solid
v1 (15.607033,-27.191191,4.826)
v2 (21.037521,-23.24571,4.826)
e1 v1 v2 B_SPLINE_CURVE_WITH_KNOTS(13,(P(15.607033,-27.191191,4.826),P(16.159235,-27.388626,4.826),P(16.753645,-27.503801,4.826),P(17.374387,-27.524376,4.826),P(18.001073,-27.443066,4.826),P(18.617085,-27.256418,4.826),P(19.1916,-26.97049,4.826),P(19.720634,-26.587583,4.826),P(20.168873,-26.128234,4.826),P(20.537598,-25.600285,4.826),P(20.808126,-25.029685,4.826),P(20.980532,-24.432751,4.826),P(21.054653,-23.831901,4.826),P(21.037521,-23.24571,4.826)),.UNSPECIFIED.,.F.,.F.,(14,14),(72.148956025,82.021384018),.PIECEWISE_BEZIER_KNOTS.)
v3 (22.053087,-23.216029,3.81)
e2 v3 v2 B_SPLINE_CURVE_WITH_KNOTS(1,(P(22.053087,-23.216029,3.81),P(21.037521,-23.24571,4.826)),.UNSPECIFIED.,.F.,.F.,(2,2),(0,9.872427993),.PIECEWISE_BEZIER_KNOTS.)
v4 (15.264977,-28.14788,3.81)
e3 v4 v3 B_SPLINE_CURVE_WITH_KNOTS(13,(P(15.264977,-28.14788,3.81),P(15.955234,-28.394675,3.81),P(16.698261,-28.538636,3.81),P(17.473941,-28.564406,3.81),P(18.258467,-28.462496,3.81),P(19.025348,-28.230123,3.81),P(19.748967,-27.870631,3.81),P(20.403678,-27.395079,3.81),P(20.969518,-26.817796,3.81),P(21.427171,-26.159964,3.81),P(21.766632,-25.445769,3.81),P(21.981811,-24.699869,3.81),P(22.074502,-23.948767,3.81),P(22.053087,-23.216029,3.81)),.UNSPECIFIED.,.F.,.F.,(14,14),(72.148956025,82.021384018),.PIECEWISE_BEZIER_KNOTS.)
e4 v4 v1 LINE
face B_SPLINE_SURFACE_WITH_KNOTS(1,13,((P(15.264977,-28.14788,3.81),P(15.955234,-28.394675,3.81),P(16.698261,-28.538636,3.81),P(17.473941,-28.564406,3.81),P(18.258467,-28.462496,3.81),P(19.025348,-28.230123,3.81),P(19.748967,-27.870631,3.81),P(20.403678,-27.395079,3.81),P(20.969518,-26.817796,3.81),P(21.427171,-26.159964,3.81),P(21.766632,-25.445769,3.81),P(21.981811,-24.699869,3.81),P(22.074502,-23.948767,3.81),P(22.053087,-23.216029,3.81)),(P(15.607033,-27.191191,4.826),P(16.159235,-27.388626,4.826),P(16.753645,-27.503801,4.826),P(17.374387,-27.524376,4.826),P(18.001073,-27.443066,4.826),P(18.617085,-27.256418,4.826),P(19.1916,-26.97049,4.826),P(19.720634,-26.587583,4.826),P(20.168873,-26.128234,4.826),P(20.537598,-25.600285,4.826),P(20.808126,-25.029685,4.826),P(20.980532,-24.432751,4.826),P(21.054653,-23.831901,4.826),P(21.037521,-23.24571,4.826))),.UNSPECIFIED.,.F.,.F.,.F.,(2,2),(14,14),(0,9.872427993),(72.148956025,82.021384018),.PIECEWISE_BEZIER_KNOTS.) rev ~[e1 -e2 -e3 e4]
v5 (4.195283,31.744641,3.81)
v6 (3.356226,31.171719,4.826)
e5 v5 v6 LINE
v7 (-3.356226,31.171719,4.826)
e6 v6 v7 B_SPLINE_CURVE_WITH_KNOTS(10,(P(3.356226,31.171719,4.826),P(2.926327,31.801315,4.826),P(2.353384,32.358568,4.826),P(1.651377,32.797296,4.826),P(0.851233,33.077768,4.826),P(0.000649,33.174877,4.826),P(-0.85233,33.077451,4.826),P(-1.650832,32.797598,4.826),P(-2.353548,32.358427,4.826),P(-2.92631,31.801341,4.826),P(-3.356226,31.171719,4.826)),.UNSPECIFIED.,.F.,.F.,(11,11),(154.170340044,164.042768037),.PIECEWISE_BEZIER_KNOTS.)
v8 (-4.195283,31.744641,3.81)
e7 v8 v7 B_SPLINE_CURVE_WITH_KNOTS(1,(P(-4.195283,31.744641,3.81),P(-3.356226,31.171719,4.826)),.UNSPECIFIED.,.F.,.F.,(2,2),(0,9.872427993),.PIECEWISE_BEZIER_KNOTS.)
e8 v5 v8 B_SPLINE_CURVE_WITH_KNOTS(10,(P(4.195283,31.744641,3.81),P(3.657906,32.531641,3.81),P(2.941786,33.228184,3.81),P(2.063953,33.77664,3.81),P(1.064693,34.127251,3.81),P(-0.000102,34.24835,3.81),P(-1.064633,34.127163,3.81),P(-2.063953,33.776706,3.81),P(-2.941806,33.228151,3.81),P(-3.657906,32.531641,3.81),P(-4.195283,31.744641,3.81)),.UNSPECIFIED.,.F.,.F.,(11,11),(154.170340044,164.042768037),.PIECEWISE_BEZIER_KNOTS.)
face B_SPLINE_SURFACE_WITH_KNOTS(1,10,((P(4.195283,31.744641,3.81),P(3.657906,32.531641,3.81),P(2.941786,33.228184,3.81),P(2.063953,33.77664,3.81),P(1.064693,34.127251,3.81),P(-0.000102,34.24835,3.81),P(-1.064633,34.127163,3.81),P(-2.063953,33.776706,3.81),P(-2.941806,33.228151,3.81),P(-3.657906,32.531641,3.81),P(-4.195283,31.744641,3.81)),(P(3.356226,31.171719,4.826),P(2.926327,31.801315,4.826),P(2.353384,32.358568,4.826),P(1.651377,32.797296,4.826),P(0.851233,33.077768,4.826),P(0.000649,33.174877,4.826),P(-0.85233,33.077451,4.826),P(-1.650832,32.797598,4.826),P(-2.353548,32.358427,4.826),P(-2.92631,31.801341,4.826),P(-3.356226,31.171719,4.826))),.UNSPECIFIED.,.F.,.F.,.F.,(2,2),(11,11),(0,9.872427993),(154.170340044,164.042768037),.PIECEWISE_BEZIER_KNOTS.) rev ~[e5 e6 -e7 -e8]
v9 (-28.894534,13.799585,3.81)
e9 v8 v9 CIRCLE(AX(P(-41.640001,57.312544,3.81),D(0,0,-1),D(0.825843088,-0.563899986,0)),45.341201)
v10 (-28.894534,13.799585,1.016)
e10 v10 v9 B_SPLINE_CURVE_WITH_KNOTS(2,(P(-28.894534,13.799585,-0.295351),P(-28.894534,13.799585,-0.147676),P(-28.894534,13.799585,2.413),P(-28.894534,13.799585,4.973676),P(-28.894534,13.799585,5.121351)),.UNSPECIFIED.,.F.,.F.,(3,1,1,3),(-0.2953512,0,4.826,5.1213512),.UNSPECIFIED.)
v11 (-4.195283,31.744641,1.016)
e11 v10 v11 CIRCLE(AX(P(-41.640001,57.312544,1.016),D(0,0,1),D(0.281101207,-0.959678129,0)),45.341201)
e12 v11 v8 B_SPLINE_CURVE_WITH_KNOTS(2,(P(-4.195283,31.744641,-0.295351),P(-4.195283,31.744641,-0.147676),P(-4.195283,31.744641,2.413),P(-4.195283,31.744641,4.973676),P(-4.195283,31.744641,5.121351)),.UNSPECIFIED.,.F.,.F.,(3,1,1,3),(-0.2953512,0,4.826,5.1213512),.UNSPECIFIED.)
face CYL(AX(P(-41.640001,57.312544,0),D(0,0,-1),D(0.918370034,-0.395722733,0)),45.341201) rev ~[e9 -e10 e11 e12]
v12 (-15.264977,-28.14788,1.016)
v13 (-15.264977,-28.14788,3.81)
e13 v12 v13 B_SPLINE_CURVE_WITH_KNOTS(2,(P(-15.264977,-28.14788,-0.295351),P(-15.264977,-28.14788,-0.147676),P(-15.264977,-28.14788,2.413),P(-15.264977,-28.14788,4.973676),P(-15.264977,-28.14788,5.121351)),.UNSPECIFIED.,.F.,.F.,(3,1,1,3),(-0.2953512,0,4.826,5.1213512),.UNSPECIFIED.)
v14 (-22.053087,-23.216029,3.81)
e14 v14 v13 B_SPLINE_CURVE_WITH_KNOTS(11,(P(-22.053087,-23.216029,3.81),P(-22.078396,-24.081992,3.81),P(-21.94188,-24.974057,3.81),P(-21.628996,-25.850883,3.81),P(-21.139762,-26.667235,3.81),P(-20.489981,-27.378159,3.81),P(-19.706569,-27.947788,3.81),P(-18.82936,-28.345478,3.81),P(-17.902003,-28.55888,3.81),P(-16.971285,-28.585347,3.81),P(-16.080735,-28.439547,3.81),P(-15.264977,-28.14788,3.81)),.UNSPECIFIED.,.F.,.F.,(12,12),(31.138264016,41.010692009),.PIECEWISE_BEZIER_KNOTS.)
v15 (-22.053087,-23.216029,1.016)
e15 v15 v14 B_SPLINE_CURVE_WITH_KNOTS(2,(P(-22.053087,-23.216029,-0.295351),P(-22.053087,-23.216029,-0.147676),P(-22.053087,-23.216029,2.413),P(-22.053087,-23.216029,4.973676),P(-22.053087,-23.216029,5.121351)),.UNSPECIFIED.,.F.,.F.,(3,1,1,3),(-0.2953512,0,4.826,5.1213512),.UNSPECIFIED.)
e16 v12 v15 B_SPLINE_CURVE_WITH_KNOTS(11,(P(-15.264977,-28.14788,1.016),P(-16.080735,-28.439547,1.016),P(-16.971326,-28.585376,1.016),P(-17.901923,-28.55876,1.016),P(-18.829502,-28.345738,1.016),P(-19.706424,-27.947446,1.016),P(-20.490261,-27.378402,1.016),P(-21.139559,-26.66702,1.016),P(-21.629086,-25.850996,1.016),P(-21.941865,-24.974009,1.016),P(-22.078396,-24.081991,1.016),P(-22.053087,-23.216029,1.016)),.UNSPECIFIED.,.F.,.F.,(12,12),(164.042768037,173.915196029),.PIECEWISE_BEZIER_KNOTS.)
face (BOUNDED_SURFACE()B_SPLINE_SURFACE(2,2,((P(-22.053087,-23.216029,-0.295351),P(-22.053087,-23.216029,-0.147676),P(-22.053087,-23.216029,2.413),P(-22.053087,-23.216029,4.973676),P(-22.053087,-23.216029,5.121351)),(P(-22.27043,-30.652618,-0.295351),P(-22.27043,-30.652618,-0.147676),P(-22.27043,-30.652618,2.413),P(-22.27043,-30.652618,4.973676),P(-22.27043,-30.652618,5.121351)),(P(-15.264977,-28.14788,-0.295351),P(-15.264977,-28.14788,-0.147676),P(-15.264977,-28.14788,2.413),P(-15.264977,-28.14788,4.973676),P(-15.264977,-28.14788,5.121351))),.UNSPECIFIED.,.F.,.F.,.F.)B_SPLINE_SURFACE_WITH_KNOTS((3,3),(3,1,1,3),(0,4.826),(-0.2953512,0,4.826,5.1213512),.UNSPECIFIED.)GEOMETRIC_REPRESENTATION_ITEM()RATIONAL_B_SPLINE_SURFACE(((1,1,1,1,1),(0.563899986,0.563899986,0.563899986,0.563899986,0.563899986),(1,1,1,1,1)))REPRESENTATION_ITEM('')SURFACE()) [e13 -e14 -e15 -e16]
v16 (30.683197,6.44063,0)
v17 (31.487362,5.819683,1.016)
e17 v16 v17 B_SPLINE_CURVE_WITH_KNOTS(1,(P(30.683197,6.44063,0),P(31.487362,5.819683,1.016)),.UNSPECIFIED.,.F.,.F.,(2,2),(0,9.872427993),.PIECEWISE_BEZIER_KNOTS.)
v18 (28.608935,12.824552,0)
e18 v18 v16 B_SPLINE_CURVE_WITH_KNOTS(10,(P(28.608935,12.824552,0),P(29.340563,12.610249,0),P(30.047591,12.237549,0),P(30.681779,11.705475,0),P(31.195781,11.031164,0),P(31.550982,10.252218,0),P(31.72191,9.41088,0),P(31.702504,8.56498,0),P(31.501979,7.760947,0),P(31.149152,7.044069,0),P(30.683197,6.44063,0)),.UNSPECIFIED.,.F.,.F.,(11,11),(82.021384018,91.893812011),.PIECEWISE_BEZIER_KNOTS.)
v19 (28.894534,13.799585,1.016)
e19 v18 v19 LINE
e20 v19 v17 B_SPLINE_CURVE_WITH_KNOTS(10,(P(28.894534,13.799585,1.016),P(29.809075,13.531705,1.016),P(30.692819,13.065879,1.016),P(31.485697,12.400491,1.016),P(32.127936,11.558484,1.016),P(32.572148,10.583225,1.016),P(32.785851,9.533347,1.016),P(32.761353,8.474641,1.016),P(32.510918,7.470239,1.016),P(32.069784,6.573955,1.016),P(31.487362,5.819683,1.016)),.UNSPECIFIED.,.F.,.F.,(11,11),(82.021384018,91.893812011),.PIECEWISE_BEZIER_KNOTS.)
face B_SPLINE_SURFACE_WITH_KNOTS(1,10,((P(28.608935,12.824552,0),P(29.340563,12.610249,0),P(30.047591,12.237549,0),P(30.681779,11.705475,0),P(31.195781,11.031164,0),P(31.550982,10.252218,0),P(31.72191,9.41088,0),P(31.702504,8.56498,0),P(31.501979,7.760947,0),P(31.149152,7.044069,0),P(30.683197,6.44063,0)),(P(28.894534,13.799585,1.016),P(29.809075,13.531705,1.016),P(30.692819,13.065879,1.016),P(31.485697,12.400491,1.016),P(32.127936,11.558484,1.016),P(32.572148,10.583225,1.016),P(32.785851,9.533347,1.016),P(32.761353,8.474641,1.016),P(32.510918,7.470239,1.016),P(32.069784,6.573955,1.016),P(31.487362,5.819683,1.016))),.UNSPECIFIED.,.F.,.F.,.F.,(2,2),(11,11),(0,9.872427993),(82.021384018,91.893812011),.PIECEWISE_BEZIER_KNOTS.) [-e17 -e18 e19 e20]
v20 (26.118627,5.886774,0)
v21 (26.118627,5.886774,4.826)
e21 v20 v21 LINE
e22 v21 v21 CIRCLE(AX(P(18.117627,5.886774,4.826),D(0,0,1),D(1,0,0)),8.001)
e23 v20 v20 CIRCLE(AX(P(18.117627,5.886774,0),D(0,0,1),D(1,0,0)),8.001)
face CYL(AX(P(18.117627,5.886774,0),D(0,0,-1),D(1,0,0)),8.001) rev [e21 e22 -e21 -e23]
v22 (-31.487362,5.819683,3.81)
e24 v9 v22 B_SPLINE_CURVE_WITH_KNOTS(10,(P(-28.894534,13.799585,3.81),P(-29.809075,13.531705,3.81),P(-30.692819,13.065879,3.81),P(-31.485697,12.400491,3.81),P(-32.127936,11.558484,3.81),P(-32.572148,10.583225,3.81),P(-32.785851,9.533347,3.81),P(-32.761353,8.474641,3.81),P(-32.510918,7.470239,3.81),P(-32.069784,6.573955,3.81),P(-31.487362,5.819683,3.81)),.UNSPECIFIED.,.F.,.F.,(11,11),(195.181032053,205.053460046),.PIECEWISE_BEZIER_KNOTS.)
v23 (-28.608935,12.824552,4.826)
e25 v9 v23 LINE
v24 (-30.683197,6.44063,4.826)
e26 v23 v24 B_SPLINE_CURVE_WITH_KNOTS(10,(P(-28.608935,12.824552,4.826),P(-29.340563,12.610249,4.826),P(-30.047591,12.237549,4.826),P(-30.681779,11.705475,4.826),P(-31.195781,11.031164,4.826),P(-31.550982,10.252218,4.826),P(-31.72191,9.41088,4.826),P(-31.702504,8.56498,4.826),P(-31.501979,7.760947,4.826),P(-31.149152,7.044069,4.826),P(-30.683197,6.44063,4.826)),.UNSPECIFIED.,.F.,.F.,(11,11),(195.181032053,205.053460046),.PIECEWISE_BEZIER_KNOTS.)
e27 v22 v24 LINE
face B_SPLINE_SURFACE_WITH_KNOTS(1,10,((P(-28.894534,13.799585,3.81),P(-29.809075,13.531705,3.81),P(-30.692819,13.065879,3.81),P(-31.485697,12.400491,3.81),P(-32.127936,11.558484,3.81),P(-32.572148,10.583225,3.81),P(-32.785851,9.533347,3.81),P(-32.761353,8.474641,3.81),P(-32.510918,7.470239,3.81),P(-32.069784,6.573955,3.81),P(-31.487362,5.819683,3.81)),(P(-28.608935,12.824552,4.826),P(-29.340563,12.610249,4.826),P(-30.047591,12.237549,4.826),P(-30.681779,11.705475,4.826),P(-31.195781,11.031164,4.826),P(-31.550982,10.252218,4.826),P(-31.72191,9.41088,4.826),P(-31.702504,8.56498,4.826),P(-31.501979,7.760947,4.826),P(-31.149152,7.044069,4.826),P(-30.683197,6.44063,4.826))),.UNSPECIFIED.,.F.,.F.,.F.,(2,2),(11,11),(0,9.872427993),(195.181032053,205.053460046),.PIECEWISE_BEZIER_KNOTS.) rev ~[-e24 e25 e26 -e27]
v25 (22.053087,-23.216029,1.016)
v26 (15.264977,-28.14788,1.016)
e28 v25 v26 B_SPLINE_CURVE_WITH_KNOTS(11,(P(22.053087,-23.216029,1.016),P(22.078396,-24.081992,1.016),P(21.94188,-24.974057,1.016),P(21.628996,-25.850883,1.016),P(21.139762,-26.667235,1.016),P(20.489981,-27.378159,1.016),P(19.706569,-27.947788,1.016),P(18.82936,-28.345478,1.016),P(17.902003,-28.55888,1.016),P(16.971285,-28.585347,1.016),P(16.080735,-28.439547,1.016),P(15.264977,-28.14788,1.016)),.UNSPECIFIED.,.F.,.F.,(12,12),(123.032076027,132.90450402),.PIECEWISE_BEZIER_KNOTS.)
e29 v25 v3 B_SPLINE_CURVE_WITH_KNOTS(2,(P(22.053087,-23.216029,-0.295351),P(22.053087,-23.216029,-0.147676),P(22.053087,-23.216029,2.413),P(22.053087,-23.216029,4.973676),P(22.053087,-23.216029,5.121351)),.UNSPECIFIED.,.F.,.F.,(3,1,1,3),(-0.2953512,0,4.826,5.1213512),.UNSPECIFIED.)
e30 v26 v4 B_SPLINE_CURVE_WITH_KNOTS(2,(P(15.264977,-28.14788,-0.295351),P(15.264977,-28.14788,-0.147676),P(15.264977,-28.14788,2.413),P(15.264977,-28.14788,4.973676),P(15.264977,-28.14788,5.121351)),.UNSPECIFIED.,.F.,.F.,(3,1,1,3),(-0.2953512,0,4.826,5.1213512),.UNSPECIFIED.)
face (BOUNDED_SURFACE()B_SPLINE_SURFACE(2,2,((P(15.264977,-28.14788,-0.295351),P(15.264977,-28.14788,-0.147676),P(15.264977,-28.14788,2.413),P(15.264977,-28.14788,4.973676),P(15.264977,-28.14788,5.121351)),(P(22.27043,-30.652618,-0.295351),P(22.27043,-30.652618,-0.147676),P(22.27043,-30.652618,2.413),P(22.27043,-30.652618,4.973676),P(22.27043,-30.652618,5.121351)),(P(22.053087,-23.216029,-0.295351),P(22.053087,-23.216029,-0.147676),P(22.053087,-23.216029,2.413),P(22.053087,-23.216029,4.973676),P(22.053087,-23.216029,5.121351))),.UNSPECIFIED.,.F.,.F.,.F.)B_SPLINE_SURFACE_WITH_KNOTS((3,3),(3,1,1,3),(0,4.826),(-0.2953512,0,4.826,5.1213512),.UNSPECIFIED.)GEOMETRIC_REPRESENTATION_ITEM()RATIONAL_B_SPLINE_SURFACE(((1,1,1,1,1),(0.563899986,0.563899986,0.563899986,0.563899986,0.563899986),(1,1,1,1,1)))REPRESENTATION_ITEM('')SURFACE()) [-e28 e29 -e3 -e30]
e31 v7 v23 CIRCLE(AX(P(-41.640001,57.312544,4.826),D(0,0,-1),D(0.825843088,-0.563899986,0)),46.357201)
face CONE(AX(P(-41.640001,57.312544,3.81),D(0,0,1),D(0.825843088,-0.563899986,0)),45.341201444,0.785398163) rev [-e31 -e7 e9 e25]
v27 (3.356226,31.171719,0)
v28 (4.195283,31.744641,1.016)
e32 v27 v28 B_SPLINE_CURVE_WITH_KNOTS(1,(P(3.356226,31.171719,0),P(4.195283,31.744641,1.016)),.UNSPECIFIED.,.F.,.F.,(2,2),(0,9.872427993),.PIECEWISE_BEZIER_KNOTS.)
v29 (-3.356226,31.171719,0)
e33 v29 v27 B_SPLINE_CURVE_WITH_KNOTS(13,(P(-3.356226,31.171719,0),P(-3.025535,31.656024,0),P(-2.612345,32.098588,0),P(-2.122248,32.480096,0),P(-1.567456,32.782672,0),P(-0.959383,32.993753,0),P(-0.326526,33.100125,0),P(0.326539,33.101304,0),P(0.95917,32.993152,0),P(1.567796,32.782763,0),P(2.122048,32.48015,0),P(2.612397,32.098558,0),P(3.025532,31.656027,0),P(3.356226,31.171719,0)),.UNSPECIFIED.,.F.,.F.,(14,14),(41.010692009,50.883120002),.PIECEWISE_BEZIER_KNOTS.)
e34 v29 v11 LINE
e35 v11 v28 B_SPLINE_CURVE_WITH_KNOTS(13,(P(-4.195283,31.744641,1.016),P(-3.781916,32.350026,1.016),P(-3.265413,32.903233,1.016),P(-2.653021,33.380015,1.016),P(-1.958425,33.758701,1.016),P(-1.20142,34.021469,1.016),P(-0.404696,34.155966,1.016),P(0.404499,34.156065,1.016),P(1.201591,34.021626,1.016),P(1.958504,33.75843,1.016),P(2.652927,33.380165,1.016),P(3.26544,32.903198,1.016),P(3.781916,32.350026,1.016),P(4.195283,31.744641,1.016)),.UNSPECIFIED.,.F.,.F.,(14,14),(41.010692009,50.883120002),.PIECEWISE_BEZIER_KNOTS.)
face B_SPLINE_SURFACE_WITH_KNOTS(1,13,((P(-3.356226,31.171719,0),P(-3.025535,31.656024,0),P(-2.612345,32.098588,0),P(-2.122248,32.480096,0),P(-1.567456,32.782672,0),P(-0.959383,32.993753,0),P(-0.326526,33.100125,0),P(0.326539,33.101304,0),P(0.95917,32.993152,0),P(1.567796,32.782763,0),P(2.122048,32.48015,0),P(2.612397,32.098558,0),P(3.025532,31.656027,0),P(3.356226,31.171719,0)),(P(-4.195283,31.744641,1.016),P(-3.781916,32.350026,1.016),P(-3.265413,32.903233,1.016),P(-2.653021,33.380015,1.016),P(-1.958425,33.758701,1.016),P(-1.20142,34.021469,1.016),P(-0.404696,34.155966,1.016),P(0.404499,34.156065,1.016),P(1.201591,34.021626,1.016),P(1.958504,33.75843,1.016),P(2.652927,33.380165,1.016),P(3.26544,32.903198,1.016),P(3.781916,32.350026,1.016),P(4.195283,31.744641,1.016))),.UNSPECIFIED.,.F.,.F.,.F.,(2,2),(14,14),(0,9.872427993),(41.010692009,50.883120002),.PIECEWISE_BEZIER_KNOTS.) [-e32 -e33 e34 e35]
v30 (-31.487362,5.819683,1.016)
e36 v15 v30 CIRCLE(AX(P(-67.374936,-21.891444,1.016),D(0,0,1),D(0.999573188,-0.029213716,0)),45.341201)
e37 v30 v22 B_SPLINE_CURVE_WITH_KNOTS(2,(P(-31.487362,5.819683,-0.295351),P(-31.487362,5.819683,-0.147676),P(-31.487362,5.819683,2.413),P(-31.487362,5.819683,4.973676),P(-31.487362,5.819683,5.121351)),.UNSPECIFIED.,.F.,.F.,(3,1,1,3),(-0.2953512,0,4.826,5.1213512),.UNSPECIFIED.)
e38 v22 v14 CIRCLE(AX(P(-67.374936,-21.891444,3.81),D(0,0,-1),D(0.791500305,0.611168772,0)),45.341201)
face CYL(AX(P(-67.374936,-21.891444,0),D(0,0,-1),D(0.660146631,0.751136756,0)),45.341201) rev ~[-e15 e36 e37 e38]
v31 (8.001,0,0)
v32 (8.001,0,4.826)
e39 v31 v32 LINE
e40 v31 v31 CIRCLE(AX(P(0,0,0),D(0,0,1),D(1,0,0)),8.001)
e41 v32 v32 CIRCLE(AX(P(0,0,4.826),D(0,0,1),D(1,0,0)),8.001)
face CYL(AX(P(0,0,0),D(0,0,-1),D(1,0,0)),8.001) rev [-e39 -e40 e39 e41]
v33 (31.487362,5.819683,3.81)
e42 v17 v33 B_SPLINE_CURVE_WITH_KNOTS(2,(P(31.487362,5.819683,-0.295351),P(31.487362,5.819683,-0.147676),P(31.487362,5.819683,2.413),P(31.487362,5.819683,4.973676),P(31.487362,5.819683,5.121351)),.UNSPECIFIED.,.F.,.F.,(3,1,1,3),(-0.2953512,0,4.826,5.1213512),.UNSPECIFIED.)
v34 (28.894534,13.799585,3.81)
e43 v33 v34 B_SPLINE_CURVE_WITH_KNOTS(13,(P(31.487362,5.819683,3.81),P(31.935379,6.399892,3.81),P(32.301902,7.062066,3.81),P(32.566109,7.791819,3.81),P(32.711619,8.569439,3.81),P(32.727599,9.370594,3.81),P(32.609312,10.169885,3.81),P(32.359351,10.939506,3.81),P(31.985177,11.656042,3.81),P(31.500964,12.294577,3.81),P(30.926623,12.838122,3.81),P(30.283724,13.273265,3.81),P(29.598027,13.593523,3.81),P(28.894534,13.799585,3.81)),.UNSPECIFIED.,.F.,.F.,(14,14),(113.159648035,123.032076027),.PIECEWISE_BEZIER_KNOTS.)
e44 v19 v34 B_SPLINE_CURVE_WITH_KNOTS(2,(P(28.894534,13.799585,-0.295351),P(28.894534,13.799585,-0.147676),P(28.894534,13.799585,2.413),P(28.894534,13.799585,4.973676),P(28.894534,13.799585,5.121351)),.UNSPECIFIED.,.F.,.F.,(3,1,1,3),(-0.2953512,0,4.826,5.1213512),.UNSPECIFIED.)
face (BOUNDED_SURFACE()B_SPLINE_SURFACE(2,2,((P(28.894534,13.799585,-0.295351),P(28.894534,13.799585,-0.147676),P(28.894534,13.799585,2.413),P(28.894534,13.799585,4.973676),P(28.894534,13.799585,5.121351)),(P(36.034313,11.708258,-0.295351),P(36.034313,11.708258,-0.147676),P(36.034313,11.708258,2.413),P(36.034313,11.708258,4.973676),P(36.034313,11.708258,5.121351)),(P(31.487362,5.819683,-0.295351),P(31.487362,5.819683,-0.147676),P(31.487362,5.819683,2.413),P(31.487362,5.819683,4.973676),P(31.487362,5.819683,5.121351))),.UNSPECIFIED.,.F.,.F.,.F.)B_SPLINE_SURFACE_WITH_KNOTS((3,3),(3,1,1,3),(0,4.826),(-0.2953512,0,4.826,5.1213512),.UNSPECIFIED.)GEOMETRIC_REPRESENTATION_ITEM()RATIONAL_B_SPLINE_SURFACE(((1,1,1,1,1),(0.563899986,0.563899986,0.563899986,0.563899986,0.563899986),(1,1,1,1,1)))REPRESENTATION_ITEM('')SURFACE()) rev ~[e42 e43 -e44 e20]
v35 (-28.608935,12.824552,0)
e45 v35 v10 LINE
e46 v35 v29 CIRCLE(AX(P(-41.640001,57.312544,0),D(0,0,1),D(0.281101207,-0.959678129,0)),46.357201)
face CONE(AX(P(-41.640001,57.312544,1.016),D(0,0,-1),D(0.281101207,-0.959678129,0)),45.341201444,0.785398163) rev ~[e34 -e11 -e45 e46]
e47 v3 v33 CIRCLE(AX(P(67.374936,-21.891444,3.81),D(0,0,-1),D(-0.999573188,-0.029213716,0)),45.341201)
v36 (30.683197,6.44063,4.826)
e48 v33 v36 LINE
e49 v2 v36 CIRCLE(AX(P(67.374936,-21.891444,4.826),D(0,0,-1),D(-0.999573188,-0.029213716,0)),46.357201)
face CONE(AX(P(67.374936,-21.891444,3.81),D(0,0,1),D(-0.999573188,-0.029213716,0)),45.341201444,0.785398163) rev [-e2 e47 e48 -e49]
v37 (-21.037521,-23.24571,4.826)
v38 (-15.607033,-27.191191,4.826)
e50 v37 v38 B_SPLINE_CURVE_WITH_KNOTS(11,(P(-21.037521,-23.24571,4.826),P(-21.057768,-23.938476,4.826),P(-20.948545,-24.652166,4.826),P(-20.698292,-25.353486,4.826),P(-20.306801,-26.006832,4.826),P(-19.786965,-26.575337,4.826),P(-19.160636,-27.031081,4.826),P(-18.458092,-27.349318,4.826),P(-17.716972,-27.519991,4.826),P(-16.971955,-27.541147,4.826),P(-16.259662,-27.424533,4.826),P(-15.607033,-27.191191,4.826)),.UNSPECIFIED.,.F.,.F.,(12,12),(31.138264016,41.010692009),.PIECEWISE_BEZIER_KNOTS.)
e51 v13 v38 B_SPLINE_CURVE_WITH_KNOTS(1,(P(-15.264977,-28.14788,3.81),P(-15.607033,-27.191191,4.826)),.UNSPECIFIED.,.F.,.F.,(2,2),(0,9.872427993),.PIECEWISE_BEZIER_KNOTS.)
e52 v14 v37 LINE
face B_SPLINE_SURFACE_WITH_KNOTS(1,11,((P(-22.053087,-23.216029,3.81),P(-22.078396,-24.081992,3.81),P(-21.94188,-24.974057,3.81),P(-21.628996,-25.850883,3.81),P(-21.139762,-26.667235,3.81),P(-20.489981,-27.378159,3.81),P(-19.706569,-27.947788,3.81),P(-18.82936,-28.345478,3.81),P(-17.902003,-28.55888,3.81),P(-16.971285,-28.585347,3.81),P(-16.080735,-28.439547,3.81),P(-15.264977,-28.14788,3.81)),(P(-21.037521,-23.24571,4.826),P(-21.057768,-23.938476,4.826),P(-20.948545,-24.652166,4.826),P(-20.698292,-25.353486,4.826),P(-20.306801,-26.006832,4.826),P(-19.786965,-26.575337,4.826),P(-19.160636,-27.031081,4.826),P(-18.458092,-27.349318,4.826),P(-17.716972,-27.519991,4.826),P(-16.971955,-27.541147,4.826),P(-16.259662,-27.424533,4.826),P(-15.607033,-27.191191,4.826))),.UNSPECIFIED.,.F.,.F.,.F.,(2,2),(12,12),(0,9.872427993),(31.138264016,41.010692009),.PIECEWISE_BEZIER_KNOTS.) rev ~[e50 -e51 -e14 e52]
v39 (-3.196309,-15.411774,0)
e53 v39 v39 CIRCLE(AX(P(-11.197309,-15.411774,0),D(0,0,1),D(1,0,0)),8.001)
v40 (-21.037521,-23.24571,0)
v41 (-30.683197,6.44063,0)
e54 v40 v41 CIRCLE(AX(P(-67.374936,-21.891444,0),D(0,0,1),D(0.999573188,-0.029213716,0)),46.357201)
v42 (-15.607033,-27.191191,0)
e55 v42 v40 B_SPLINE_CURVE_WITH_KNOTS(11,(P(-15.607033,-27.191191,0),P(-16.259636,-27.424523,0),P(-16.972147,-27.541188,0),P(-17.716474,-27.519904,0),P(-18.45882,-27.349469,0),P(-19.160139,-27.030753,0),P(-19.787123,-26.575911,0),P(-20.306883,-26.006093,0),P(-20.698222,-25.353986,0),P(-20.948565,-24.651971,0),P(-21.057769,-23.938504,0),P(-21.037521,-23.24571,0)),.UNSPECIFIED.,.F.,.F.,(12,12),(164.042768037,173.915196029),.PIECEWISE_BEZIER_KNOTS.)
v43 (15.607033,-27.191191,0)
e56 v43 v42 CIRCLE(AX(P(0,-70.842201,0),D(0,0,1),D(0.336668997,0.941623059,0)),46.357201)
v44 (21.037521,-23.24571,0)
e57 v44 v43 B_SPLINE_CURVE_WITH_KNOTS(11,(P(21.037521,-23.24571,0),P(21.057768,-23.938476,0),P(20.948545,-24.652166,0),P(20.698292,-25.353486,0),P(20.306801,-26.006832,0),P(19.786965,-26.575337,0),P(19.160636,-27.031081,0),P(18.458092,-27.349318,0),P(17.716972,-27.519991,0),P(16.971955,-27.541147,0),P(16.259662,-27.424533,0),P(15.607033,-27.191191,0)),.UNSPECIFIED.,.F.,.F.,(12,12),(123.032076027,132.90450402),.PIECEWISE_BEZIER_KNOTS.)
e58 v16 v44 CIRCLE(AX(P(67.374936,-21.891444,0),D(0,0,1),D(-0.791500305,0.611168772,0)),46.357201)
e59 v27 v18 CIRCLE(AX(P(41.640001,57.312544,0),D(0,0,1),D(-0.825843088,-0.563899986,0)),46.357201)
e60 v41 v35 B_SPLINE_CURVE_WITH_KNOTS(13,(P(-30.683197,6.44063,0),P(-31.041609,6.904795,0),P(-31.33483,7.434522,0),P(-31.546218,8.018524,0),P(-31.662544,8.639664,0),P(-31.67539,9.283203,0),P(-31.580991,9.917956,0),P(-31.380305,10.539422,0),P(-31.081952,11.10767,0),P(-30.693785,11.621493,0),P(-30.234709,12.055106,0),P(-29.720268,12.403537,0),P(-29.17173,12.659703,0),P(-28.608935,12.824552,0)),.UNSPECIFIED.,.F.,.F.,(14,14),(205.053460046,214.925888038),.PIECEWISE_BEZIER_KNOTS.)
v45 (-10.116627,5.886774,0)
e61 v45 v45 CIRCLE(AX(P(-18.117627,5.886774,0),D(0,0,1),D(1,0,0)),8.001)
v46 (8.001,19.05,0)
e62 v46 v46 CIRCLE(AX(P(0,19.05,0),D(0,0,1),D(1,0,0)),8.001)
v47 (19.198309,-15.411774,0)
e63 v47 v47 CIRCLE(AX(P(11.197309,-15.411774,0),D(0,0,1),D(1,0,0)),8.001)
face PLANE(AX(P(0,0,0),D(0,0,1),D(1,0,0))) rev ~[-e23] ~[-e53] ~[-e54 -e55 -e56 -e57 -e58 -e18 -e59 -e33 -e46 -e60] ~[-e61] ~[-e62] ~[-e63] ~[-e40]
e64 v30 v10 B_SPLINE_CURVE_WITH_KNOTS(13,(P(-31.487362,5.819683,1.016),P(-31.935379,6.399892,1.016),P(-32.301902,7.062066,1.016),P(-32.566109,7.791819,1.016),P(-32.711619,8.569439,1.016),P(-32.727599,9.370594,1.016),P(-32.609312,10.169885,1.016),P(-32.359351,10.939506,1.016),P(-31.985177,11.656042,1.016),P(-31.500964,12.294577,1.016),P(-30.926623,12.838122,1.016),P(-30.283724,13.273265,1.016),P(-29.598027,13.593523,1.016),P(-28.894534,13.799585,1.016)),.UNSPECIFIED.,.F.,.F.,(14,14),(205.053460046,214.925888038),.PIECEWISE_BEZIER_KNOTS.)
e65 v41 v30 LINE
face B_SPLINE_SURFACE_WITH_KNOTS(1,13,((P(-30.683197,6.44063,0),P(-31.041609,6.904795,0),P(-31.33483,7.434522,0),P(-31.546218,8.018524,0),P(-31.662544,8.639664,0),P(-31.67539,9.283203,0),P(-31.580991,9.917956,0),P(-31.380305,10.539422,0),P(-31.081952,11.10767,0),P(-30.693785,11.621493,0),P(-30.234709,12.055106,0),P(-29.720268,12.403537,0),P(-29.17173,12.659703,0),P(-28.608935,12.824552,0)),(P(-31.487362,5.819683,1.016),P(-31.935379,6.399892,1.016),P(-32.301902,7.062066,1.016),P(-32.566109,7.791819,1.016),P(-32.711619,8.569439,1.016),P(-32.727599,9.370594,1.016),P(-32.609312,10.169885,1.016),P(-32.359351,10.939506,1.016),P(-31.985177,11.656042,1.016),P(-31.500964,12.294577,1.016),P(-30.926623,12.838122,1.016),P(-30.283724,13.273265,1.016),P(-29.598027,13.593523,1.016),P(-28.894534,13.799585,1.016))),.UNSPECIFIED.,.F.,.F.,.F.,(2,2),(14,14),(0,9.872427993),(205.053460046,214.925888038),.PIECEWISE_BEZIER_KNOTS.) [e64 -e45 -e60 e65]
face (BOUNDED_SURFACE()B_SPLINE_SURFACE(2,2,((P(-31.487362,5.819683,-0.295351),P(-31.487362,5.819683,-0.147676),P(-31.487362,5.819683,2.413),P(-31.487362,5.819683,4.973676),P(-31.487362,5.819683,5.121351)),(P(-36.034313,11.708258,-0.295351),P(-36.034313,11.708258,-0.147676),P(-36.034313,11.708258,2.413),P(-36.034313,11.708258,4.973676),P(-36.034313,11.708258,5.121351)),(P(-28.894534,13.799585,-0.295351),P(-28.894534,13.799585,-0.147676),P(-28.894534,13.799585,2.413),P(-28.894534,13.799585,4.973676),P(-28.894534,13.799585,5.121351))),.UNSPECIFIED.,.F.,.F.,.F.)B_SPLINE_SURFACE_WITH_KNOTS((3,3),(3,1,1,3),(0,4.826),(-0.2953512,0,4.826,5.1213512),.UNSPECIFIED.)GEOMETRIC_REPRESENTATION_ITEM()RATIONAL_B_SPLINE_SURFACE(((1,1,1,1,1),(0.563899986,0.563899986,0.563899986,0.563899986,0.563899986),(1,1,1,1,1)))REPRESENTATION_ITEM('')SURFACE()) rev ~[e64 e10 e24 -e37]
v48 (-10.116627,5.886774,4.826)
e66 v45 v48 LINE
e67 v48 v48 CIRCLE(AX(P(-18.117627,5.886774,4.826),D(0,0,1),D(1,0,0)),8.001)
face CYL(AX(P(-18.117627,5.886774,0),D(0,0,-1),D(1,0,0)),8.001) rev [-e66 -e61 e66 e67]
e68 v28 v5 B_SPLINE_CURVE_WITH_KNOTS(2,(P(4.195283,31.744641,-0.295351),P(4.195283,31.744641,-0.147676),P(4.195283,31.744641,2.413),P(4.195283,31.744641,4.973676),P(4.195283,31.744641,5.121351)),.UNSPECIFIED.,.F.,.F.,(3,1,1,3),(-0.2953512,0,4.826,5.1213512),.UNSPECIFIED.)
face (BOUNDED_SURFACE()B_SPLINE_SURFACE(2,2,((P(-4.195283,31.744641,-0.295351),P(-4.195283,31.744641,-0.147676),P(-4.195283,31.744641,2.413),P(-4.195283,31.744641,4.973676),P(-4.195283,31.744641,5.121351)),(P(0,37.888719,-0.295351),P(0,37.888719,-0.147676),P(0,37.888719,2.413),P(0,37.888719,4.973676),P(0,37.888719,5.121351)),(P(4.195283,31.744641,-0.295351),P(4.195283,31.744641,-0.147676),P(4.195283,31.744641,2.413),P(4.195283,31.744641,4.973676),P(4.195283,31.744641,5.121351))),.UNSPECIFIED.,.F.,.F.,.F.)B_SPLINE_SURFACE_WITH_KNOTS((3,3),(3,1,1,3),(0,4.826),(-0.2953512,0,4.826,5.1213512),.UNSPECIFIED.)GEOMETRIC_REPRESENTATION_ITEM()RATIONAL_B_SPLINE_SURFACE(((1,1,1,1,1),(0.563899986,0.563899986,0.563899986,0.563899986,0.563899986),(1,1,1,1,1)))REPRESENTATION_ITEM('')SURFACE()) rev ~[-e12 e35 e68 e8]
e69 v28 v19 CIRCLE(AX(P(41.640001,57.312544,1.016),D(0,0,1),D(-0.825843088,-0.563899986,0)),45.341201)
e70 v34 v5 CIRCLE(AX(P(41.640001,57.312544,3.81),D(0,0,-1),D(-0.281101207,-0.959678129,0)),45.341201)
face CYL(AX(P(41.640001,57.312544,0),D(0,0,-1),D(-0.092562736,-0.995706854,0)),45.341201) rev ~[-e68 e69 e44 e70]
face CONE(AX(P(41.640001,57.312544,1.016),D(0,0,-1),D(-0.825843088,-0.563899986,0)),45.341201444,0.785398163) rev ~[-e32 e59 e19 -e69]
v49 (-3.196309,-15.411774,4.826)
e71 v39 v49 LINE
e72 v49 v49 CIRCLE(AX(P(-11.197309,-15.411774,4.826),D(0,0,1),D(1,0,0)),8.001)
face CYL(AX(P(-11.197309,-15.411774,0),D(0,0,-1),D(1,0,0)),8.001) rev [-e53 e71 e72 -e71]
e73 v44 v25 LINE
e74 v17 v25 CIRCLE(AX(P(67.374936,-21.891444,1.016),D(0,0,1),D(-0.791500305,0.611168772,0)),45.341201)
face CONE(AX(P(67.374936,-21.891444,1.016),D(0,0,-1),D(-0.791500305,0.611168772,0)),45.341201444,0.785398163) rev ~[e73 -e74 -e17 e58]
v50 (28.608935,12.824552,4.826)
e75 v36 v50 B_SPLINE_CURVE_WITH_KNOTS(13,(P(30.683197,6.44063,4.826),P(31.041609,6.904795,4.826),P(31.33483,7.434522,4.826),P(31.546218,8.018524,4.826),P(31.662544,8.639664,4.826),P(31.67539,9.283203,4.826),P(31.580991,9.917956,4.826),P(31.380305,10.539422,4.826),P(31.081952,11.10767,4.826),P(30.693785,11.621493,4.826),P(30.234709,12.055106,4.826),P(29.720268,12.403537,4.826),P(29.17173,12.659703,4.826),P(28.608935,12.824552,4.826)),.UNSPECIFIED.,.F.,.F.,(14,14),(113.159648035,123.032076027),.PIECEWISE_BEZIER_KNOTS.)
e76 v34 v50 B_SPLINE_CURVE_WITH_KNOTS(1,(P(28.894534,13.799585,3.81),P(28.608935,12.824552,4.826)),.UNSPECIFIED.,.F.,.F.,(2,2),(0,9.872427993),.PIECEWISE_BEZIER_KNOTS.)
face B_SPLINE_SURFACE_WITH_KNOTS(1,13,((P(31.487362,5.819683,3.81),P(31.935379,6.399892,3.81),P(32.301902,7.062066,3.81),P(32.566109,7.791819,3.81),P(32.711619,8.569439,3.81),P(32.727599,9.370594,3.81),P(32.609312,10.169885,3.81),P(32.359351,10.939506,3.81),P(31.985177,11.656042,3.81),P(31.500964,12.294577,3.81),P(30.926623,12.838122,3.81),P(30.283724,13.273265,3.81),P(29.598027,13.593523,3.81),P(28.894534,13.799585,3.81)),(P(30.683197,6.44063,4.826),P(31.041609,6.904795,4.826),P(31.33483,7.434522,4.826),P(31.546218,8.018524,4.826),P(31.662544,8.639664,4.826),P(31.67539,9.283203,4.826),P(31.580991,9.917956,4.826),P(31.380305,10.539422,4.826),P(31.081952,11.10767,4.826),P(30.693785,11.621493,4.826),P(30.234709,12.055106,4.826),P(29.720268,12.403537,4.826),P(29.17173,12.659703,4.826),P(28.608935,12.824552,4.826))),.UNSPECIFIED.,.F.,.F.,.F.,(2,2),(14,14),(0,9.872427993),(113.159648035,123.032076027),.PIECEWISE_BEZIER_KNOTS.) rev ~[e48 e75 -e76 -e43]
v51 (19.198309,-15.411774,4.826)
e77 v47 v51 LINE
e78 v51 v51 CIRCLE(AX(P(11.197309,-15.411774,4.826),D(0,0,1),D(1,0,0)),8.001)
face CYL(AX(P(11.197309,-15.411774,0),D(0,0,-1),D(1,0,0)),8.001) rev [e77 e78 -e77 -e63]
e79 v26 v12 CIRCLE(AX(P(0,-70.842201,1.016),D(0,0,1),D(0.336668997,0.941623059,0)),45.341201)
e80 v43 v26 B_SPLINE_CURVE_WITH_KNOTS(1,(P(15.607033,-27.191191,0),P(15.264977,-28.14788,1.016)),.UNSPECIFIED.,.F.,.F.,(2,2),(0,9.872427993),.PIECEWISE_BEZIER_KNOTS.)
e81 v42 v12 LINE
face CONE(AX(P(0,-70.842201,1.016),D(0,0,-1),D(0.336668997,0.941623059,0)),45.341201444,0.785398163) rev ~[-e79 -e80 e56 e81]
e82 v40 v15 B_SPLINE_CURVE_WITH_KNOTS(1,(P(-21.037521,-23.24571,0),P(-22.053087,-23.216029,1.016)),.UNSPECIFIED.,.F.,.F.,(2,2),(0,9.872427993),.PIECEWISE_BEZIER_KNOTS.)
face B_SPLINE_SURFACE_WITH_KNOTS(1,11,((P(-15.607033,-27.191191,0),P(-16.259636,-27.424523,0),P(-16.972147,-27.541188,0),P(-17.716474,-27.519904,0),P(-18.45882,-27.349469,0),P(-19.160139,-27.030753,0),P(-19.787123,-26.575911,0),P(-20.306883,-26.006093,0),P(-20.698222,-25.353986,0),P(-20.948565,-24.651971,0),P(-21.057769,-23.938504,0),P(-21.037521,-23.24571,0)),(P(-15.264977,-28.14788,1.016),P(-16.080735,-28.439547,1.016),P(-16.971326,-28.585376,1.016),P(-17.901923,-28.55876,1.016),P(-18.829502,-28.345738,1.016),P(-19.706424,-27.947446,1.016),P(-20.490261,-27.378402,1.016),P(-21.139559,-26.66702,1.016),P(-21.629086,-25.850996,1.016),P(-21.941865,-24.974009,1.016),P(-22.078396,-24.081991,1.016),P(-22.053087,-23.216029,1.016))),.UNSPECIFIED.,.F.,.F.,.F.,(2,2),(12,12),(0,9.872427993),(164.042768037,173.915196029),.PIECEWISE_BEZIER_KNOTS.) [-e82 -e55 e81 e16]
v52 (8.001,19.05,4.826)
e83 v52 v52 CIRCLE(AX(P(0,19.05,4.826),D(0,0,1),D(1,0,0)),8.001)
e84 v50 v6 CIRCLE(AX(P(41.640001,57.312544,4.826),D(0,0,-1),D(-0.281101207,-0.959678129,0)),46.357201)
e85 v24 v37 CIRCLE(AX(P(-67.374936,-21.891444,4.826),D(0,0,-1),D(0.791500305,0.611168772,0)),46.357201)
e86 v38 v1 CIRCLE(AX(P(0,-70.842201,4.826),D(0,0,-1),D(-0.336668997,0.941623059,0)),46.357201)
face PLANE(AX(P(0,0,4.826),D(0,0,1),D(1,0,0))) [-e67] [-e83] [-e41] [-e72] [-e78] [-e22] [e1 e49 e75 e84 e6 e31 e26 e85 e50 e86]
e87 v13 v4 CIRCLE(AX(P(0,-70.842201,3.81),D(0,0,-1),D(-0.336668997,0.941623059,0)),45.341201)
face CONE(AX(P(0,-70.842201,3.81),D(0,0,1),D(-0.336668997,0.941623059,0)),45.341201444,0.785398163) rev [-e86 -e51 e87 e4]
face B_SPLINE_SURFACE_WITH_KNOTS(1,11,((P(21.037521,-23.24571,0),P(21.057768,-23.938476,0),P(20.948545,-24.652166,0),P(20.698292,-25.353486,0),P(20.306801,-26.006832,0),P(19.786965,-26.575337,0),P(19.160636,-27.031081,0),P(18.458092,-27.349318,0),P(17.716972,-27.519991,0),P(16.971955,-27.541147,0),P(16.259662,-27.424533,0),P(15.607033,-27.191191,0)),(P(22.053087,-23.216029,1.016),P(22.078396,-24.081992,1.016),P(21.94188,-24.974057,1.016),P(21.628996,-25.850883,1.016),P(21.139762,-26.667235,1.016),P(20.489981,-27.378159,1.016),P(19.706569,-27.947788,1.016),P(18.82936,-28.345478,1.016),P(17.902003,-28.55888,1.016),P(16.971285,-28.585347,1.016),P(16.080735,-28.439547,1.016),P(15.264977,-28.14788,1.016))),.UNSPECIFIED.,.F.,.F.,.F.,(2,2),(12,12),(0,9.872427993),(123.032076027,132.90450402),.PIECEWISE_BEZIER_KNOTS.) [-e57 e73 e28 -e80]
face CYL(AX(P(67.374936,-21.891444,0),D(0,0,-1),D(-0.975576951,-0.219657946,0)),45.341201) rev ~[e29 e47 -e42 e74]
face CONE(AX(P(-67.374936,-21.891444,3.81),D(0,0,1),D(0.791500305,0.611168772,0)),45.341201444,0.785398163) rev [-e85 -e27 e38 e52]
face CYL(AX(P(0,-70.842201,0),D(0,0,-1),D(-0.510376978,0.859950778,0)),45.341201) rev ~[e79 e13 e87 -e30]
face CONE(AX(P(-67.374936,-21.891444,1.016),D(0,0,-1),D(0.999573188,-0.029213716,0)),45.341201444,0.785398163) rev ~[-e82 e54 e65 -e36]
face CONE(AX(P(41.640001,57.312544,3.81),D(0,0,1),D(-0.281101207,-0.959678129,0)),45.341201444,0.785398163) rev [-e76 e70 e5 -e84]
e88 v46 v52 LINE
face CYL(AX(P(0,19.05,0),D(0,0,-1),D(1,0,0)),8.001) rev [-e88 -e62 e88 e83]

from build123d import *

# Parameters (mm, degrees)
F0_R     = 8.001
F1_DEPTH = 4.826
F2_R     = 5.08
F3_SIZE  = 1.016


with BuildPart() as f1:
    # F0 (on Top) → F1 (new body)
    with BuildSketch(Plane.XY):
        with BuildLine():
            ThreePointArc((-37.4430950465, 12.1659990685), (-24.2528913362, -7.8802420857), (-23.1411053828, -31.8509990685))
            ThreePointArc((-23.1411053828, -31.8509990685), (0, -25.5009990685), (23.1411053828, -31.8509990685))
            ThreePointArc((23.1411053828, -31.8509990685), (24.2528913362, -7.8802420857), (37.4430950465, 12.1659990685))
            ThreePointArc((37.4430950465, 12.1659990685), (14.9891111712, 20.63074162), (0, 39.37))
            ThreePointArc((0, 39.37), (-14.9891111712, 20.63074162), (-37.4430950465, 12.1659990685))
        make_face()
        with Locations((-11.1973090562, -15.4117737428)):
            Circle(F0_R, mode=Mode.SUBTRACT)
        with Locations((11.1973090562, -15.4117737428)):
            Circle(F0_R, mode=Mode.SUBTRACT)
        Circle(F0_R, mode=Mode.SUBTRACT)
        with Locations((-18.1176266354, 5.8867737428)):
            Circle(F0_R, mode=Mode.SUBTRACT)
        with Locations((18.1176266354, 5.8867737428)):
            Circle(F0_R, mode=Mode.SUBTRACT)
        with Locations((0, 19.05)):
            Circle(F0_R, mode=Mode.SUBTRACT)
    extrude(amount=F1_DEPTH)

    # F2
    f2_edges = [f1.edges().sort_by_distance(p)[0] for p in [
        (0, 39.37, 2.413),
        (37.443095, 12.165999, 2.413),
        (23.141105, -31.850999, 2.413),
        (-23.141105, -31.850999, 2.413),
        (-37.443095, 12.165999, 2.413),
    ]]
    fillet(f2_edges, radius=F2_R)

    # F3
    f3_edges = [f1.edges().sort_by_distance(p)[0] for p in [
        (-32.297907, 10.494226, 0),
        (-24.252891, -7.880242, 4.826),
    ]]
    chamfer(f3_edges, length=F3_SIZE)


solid = f1.part
